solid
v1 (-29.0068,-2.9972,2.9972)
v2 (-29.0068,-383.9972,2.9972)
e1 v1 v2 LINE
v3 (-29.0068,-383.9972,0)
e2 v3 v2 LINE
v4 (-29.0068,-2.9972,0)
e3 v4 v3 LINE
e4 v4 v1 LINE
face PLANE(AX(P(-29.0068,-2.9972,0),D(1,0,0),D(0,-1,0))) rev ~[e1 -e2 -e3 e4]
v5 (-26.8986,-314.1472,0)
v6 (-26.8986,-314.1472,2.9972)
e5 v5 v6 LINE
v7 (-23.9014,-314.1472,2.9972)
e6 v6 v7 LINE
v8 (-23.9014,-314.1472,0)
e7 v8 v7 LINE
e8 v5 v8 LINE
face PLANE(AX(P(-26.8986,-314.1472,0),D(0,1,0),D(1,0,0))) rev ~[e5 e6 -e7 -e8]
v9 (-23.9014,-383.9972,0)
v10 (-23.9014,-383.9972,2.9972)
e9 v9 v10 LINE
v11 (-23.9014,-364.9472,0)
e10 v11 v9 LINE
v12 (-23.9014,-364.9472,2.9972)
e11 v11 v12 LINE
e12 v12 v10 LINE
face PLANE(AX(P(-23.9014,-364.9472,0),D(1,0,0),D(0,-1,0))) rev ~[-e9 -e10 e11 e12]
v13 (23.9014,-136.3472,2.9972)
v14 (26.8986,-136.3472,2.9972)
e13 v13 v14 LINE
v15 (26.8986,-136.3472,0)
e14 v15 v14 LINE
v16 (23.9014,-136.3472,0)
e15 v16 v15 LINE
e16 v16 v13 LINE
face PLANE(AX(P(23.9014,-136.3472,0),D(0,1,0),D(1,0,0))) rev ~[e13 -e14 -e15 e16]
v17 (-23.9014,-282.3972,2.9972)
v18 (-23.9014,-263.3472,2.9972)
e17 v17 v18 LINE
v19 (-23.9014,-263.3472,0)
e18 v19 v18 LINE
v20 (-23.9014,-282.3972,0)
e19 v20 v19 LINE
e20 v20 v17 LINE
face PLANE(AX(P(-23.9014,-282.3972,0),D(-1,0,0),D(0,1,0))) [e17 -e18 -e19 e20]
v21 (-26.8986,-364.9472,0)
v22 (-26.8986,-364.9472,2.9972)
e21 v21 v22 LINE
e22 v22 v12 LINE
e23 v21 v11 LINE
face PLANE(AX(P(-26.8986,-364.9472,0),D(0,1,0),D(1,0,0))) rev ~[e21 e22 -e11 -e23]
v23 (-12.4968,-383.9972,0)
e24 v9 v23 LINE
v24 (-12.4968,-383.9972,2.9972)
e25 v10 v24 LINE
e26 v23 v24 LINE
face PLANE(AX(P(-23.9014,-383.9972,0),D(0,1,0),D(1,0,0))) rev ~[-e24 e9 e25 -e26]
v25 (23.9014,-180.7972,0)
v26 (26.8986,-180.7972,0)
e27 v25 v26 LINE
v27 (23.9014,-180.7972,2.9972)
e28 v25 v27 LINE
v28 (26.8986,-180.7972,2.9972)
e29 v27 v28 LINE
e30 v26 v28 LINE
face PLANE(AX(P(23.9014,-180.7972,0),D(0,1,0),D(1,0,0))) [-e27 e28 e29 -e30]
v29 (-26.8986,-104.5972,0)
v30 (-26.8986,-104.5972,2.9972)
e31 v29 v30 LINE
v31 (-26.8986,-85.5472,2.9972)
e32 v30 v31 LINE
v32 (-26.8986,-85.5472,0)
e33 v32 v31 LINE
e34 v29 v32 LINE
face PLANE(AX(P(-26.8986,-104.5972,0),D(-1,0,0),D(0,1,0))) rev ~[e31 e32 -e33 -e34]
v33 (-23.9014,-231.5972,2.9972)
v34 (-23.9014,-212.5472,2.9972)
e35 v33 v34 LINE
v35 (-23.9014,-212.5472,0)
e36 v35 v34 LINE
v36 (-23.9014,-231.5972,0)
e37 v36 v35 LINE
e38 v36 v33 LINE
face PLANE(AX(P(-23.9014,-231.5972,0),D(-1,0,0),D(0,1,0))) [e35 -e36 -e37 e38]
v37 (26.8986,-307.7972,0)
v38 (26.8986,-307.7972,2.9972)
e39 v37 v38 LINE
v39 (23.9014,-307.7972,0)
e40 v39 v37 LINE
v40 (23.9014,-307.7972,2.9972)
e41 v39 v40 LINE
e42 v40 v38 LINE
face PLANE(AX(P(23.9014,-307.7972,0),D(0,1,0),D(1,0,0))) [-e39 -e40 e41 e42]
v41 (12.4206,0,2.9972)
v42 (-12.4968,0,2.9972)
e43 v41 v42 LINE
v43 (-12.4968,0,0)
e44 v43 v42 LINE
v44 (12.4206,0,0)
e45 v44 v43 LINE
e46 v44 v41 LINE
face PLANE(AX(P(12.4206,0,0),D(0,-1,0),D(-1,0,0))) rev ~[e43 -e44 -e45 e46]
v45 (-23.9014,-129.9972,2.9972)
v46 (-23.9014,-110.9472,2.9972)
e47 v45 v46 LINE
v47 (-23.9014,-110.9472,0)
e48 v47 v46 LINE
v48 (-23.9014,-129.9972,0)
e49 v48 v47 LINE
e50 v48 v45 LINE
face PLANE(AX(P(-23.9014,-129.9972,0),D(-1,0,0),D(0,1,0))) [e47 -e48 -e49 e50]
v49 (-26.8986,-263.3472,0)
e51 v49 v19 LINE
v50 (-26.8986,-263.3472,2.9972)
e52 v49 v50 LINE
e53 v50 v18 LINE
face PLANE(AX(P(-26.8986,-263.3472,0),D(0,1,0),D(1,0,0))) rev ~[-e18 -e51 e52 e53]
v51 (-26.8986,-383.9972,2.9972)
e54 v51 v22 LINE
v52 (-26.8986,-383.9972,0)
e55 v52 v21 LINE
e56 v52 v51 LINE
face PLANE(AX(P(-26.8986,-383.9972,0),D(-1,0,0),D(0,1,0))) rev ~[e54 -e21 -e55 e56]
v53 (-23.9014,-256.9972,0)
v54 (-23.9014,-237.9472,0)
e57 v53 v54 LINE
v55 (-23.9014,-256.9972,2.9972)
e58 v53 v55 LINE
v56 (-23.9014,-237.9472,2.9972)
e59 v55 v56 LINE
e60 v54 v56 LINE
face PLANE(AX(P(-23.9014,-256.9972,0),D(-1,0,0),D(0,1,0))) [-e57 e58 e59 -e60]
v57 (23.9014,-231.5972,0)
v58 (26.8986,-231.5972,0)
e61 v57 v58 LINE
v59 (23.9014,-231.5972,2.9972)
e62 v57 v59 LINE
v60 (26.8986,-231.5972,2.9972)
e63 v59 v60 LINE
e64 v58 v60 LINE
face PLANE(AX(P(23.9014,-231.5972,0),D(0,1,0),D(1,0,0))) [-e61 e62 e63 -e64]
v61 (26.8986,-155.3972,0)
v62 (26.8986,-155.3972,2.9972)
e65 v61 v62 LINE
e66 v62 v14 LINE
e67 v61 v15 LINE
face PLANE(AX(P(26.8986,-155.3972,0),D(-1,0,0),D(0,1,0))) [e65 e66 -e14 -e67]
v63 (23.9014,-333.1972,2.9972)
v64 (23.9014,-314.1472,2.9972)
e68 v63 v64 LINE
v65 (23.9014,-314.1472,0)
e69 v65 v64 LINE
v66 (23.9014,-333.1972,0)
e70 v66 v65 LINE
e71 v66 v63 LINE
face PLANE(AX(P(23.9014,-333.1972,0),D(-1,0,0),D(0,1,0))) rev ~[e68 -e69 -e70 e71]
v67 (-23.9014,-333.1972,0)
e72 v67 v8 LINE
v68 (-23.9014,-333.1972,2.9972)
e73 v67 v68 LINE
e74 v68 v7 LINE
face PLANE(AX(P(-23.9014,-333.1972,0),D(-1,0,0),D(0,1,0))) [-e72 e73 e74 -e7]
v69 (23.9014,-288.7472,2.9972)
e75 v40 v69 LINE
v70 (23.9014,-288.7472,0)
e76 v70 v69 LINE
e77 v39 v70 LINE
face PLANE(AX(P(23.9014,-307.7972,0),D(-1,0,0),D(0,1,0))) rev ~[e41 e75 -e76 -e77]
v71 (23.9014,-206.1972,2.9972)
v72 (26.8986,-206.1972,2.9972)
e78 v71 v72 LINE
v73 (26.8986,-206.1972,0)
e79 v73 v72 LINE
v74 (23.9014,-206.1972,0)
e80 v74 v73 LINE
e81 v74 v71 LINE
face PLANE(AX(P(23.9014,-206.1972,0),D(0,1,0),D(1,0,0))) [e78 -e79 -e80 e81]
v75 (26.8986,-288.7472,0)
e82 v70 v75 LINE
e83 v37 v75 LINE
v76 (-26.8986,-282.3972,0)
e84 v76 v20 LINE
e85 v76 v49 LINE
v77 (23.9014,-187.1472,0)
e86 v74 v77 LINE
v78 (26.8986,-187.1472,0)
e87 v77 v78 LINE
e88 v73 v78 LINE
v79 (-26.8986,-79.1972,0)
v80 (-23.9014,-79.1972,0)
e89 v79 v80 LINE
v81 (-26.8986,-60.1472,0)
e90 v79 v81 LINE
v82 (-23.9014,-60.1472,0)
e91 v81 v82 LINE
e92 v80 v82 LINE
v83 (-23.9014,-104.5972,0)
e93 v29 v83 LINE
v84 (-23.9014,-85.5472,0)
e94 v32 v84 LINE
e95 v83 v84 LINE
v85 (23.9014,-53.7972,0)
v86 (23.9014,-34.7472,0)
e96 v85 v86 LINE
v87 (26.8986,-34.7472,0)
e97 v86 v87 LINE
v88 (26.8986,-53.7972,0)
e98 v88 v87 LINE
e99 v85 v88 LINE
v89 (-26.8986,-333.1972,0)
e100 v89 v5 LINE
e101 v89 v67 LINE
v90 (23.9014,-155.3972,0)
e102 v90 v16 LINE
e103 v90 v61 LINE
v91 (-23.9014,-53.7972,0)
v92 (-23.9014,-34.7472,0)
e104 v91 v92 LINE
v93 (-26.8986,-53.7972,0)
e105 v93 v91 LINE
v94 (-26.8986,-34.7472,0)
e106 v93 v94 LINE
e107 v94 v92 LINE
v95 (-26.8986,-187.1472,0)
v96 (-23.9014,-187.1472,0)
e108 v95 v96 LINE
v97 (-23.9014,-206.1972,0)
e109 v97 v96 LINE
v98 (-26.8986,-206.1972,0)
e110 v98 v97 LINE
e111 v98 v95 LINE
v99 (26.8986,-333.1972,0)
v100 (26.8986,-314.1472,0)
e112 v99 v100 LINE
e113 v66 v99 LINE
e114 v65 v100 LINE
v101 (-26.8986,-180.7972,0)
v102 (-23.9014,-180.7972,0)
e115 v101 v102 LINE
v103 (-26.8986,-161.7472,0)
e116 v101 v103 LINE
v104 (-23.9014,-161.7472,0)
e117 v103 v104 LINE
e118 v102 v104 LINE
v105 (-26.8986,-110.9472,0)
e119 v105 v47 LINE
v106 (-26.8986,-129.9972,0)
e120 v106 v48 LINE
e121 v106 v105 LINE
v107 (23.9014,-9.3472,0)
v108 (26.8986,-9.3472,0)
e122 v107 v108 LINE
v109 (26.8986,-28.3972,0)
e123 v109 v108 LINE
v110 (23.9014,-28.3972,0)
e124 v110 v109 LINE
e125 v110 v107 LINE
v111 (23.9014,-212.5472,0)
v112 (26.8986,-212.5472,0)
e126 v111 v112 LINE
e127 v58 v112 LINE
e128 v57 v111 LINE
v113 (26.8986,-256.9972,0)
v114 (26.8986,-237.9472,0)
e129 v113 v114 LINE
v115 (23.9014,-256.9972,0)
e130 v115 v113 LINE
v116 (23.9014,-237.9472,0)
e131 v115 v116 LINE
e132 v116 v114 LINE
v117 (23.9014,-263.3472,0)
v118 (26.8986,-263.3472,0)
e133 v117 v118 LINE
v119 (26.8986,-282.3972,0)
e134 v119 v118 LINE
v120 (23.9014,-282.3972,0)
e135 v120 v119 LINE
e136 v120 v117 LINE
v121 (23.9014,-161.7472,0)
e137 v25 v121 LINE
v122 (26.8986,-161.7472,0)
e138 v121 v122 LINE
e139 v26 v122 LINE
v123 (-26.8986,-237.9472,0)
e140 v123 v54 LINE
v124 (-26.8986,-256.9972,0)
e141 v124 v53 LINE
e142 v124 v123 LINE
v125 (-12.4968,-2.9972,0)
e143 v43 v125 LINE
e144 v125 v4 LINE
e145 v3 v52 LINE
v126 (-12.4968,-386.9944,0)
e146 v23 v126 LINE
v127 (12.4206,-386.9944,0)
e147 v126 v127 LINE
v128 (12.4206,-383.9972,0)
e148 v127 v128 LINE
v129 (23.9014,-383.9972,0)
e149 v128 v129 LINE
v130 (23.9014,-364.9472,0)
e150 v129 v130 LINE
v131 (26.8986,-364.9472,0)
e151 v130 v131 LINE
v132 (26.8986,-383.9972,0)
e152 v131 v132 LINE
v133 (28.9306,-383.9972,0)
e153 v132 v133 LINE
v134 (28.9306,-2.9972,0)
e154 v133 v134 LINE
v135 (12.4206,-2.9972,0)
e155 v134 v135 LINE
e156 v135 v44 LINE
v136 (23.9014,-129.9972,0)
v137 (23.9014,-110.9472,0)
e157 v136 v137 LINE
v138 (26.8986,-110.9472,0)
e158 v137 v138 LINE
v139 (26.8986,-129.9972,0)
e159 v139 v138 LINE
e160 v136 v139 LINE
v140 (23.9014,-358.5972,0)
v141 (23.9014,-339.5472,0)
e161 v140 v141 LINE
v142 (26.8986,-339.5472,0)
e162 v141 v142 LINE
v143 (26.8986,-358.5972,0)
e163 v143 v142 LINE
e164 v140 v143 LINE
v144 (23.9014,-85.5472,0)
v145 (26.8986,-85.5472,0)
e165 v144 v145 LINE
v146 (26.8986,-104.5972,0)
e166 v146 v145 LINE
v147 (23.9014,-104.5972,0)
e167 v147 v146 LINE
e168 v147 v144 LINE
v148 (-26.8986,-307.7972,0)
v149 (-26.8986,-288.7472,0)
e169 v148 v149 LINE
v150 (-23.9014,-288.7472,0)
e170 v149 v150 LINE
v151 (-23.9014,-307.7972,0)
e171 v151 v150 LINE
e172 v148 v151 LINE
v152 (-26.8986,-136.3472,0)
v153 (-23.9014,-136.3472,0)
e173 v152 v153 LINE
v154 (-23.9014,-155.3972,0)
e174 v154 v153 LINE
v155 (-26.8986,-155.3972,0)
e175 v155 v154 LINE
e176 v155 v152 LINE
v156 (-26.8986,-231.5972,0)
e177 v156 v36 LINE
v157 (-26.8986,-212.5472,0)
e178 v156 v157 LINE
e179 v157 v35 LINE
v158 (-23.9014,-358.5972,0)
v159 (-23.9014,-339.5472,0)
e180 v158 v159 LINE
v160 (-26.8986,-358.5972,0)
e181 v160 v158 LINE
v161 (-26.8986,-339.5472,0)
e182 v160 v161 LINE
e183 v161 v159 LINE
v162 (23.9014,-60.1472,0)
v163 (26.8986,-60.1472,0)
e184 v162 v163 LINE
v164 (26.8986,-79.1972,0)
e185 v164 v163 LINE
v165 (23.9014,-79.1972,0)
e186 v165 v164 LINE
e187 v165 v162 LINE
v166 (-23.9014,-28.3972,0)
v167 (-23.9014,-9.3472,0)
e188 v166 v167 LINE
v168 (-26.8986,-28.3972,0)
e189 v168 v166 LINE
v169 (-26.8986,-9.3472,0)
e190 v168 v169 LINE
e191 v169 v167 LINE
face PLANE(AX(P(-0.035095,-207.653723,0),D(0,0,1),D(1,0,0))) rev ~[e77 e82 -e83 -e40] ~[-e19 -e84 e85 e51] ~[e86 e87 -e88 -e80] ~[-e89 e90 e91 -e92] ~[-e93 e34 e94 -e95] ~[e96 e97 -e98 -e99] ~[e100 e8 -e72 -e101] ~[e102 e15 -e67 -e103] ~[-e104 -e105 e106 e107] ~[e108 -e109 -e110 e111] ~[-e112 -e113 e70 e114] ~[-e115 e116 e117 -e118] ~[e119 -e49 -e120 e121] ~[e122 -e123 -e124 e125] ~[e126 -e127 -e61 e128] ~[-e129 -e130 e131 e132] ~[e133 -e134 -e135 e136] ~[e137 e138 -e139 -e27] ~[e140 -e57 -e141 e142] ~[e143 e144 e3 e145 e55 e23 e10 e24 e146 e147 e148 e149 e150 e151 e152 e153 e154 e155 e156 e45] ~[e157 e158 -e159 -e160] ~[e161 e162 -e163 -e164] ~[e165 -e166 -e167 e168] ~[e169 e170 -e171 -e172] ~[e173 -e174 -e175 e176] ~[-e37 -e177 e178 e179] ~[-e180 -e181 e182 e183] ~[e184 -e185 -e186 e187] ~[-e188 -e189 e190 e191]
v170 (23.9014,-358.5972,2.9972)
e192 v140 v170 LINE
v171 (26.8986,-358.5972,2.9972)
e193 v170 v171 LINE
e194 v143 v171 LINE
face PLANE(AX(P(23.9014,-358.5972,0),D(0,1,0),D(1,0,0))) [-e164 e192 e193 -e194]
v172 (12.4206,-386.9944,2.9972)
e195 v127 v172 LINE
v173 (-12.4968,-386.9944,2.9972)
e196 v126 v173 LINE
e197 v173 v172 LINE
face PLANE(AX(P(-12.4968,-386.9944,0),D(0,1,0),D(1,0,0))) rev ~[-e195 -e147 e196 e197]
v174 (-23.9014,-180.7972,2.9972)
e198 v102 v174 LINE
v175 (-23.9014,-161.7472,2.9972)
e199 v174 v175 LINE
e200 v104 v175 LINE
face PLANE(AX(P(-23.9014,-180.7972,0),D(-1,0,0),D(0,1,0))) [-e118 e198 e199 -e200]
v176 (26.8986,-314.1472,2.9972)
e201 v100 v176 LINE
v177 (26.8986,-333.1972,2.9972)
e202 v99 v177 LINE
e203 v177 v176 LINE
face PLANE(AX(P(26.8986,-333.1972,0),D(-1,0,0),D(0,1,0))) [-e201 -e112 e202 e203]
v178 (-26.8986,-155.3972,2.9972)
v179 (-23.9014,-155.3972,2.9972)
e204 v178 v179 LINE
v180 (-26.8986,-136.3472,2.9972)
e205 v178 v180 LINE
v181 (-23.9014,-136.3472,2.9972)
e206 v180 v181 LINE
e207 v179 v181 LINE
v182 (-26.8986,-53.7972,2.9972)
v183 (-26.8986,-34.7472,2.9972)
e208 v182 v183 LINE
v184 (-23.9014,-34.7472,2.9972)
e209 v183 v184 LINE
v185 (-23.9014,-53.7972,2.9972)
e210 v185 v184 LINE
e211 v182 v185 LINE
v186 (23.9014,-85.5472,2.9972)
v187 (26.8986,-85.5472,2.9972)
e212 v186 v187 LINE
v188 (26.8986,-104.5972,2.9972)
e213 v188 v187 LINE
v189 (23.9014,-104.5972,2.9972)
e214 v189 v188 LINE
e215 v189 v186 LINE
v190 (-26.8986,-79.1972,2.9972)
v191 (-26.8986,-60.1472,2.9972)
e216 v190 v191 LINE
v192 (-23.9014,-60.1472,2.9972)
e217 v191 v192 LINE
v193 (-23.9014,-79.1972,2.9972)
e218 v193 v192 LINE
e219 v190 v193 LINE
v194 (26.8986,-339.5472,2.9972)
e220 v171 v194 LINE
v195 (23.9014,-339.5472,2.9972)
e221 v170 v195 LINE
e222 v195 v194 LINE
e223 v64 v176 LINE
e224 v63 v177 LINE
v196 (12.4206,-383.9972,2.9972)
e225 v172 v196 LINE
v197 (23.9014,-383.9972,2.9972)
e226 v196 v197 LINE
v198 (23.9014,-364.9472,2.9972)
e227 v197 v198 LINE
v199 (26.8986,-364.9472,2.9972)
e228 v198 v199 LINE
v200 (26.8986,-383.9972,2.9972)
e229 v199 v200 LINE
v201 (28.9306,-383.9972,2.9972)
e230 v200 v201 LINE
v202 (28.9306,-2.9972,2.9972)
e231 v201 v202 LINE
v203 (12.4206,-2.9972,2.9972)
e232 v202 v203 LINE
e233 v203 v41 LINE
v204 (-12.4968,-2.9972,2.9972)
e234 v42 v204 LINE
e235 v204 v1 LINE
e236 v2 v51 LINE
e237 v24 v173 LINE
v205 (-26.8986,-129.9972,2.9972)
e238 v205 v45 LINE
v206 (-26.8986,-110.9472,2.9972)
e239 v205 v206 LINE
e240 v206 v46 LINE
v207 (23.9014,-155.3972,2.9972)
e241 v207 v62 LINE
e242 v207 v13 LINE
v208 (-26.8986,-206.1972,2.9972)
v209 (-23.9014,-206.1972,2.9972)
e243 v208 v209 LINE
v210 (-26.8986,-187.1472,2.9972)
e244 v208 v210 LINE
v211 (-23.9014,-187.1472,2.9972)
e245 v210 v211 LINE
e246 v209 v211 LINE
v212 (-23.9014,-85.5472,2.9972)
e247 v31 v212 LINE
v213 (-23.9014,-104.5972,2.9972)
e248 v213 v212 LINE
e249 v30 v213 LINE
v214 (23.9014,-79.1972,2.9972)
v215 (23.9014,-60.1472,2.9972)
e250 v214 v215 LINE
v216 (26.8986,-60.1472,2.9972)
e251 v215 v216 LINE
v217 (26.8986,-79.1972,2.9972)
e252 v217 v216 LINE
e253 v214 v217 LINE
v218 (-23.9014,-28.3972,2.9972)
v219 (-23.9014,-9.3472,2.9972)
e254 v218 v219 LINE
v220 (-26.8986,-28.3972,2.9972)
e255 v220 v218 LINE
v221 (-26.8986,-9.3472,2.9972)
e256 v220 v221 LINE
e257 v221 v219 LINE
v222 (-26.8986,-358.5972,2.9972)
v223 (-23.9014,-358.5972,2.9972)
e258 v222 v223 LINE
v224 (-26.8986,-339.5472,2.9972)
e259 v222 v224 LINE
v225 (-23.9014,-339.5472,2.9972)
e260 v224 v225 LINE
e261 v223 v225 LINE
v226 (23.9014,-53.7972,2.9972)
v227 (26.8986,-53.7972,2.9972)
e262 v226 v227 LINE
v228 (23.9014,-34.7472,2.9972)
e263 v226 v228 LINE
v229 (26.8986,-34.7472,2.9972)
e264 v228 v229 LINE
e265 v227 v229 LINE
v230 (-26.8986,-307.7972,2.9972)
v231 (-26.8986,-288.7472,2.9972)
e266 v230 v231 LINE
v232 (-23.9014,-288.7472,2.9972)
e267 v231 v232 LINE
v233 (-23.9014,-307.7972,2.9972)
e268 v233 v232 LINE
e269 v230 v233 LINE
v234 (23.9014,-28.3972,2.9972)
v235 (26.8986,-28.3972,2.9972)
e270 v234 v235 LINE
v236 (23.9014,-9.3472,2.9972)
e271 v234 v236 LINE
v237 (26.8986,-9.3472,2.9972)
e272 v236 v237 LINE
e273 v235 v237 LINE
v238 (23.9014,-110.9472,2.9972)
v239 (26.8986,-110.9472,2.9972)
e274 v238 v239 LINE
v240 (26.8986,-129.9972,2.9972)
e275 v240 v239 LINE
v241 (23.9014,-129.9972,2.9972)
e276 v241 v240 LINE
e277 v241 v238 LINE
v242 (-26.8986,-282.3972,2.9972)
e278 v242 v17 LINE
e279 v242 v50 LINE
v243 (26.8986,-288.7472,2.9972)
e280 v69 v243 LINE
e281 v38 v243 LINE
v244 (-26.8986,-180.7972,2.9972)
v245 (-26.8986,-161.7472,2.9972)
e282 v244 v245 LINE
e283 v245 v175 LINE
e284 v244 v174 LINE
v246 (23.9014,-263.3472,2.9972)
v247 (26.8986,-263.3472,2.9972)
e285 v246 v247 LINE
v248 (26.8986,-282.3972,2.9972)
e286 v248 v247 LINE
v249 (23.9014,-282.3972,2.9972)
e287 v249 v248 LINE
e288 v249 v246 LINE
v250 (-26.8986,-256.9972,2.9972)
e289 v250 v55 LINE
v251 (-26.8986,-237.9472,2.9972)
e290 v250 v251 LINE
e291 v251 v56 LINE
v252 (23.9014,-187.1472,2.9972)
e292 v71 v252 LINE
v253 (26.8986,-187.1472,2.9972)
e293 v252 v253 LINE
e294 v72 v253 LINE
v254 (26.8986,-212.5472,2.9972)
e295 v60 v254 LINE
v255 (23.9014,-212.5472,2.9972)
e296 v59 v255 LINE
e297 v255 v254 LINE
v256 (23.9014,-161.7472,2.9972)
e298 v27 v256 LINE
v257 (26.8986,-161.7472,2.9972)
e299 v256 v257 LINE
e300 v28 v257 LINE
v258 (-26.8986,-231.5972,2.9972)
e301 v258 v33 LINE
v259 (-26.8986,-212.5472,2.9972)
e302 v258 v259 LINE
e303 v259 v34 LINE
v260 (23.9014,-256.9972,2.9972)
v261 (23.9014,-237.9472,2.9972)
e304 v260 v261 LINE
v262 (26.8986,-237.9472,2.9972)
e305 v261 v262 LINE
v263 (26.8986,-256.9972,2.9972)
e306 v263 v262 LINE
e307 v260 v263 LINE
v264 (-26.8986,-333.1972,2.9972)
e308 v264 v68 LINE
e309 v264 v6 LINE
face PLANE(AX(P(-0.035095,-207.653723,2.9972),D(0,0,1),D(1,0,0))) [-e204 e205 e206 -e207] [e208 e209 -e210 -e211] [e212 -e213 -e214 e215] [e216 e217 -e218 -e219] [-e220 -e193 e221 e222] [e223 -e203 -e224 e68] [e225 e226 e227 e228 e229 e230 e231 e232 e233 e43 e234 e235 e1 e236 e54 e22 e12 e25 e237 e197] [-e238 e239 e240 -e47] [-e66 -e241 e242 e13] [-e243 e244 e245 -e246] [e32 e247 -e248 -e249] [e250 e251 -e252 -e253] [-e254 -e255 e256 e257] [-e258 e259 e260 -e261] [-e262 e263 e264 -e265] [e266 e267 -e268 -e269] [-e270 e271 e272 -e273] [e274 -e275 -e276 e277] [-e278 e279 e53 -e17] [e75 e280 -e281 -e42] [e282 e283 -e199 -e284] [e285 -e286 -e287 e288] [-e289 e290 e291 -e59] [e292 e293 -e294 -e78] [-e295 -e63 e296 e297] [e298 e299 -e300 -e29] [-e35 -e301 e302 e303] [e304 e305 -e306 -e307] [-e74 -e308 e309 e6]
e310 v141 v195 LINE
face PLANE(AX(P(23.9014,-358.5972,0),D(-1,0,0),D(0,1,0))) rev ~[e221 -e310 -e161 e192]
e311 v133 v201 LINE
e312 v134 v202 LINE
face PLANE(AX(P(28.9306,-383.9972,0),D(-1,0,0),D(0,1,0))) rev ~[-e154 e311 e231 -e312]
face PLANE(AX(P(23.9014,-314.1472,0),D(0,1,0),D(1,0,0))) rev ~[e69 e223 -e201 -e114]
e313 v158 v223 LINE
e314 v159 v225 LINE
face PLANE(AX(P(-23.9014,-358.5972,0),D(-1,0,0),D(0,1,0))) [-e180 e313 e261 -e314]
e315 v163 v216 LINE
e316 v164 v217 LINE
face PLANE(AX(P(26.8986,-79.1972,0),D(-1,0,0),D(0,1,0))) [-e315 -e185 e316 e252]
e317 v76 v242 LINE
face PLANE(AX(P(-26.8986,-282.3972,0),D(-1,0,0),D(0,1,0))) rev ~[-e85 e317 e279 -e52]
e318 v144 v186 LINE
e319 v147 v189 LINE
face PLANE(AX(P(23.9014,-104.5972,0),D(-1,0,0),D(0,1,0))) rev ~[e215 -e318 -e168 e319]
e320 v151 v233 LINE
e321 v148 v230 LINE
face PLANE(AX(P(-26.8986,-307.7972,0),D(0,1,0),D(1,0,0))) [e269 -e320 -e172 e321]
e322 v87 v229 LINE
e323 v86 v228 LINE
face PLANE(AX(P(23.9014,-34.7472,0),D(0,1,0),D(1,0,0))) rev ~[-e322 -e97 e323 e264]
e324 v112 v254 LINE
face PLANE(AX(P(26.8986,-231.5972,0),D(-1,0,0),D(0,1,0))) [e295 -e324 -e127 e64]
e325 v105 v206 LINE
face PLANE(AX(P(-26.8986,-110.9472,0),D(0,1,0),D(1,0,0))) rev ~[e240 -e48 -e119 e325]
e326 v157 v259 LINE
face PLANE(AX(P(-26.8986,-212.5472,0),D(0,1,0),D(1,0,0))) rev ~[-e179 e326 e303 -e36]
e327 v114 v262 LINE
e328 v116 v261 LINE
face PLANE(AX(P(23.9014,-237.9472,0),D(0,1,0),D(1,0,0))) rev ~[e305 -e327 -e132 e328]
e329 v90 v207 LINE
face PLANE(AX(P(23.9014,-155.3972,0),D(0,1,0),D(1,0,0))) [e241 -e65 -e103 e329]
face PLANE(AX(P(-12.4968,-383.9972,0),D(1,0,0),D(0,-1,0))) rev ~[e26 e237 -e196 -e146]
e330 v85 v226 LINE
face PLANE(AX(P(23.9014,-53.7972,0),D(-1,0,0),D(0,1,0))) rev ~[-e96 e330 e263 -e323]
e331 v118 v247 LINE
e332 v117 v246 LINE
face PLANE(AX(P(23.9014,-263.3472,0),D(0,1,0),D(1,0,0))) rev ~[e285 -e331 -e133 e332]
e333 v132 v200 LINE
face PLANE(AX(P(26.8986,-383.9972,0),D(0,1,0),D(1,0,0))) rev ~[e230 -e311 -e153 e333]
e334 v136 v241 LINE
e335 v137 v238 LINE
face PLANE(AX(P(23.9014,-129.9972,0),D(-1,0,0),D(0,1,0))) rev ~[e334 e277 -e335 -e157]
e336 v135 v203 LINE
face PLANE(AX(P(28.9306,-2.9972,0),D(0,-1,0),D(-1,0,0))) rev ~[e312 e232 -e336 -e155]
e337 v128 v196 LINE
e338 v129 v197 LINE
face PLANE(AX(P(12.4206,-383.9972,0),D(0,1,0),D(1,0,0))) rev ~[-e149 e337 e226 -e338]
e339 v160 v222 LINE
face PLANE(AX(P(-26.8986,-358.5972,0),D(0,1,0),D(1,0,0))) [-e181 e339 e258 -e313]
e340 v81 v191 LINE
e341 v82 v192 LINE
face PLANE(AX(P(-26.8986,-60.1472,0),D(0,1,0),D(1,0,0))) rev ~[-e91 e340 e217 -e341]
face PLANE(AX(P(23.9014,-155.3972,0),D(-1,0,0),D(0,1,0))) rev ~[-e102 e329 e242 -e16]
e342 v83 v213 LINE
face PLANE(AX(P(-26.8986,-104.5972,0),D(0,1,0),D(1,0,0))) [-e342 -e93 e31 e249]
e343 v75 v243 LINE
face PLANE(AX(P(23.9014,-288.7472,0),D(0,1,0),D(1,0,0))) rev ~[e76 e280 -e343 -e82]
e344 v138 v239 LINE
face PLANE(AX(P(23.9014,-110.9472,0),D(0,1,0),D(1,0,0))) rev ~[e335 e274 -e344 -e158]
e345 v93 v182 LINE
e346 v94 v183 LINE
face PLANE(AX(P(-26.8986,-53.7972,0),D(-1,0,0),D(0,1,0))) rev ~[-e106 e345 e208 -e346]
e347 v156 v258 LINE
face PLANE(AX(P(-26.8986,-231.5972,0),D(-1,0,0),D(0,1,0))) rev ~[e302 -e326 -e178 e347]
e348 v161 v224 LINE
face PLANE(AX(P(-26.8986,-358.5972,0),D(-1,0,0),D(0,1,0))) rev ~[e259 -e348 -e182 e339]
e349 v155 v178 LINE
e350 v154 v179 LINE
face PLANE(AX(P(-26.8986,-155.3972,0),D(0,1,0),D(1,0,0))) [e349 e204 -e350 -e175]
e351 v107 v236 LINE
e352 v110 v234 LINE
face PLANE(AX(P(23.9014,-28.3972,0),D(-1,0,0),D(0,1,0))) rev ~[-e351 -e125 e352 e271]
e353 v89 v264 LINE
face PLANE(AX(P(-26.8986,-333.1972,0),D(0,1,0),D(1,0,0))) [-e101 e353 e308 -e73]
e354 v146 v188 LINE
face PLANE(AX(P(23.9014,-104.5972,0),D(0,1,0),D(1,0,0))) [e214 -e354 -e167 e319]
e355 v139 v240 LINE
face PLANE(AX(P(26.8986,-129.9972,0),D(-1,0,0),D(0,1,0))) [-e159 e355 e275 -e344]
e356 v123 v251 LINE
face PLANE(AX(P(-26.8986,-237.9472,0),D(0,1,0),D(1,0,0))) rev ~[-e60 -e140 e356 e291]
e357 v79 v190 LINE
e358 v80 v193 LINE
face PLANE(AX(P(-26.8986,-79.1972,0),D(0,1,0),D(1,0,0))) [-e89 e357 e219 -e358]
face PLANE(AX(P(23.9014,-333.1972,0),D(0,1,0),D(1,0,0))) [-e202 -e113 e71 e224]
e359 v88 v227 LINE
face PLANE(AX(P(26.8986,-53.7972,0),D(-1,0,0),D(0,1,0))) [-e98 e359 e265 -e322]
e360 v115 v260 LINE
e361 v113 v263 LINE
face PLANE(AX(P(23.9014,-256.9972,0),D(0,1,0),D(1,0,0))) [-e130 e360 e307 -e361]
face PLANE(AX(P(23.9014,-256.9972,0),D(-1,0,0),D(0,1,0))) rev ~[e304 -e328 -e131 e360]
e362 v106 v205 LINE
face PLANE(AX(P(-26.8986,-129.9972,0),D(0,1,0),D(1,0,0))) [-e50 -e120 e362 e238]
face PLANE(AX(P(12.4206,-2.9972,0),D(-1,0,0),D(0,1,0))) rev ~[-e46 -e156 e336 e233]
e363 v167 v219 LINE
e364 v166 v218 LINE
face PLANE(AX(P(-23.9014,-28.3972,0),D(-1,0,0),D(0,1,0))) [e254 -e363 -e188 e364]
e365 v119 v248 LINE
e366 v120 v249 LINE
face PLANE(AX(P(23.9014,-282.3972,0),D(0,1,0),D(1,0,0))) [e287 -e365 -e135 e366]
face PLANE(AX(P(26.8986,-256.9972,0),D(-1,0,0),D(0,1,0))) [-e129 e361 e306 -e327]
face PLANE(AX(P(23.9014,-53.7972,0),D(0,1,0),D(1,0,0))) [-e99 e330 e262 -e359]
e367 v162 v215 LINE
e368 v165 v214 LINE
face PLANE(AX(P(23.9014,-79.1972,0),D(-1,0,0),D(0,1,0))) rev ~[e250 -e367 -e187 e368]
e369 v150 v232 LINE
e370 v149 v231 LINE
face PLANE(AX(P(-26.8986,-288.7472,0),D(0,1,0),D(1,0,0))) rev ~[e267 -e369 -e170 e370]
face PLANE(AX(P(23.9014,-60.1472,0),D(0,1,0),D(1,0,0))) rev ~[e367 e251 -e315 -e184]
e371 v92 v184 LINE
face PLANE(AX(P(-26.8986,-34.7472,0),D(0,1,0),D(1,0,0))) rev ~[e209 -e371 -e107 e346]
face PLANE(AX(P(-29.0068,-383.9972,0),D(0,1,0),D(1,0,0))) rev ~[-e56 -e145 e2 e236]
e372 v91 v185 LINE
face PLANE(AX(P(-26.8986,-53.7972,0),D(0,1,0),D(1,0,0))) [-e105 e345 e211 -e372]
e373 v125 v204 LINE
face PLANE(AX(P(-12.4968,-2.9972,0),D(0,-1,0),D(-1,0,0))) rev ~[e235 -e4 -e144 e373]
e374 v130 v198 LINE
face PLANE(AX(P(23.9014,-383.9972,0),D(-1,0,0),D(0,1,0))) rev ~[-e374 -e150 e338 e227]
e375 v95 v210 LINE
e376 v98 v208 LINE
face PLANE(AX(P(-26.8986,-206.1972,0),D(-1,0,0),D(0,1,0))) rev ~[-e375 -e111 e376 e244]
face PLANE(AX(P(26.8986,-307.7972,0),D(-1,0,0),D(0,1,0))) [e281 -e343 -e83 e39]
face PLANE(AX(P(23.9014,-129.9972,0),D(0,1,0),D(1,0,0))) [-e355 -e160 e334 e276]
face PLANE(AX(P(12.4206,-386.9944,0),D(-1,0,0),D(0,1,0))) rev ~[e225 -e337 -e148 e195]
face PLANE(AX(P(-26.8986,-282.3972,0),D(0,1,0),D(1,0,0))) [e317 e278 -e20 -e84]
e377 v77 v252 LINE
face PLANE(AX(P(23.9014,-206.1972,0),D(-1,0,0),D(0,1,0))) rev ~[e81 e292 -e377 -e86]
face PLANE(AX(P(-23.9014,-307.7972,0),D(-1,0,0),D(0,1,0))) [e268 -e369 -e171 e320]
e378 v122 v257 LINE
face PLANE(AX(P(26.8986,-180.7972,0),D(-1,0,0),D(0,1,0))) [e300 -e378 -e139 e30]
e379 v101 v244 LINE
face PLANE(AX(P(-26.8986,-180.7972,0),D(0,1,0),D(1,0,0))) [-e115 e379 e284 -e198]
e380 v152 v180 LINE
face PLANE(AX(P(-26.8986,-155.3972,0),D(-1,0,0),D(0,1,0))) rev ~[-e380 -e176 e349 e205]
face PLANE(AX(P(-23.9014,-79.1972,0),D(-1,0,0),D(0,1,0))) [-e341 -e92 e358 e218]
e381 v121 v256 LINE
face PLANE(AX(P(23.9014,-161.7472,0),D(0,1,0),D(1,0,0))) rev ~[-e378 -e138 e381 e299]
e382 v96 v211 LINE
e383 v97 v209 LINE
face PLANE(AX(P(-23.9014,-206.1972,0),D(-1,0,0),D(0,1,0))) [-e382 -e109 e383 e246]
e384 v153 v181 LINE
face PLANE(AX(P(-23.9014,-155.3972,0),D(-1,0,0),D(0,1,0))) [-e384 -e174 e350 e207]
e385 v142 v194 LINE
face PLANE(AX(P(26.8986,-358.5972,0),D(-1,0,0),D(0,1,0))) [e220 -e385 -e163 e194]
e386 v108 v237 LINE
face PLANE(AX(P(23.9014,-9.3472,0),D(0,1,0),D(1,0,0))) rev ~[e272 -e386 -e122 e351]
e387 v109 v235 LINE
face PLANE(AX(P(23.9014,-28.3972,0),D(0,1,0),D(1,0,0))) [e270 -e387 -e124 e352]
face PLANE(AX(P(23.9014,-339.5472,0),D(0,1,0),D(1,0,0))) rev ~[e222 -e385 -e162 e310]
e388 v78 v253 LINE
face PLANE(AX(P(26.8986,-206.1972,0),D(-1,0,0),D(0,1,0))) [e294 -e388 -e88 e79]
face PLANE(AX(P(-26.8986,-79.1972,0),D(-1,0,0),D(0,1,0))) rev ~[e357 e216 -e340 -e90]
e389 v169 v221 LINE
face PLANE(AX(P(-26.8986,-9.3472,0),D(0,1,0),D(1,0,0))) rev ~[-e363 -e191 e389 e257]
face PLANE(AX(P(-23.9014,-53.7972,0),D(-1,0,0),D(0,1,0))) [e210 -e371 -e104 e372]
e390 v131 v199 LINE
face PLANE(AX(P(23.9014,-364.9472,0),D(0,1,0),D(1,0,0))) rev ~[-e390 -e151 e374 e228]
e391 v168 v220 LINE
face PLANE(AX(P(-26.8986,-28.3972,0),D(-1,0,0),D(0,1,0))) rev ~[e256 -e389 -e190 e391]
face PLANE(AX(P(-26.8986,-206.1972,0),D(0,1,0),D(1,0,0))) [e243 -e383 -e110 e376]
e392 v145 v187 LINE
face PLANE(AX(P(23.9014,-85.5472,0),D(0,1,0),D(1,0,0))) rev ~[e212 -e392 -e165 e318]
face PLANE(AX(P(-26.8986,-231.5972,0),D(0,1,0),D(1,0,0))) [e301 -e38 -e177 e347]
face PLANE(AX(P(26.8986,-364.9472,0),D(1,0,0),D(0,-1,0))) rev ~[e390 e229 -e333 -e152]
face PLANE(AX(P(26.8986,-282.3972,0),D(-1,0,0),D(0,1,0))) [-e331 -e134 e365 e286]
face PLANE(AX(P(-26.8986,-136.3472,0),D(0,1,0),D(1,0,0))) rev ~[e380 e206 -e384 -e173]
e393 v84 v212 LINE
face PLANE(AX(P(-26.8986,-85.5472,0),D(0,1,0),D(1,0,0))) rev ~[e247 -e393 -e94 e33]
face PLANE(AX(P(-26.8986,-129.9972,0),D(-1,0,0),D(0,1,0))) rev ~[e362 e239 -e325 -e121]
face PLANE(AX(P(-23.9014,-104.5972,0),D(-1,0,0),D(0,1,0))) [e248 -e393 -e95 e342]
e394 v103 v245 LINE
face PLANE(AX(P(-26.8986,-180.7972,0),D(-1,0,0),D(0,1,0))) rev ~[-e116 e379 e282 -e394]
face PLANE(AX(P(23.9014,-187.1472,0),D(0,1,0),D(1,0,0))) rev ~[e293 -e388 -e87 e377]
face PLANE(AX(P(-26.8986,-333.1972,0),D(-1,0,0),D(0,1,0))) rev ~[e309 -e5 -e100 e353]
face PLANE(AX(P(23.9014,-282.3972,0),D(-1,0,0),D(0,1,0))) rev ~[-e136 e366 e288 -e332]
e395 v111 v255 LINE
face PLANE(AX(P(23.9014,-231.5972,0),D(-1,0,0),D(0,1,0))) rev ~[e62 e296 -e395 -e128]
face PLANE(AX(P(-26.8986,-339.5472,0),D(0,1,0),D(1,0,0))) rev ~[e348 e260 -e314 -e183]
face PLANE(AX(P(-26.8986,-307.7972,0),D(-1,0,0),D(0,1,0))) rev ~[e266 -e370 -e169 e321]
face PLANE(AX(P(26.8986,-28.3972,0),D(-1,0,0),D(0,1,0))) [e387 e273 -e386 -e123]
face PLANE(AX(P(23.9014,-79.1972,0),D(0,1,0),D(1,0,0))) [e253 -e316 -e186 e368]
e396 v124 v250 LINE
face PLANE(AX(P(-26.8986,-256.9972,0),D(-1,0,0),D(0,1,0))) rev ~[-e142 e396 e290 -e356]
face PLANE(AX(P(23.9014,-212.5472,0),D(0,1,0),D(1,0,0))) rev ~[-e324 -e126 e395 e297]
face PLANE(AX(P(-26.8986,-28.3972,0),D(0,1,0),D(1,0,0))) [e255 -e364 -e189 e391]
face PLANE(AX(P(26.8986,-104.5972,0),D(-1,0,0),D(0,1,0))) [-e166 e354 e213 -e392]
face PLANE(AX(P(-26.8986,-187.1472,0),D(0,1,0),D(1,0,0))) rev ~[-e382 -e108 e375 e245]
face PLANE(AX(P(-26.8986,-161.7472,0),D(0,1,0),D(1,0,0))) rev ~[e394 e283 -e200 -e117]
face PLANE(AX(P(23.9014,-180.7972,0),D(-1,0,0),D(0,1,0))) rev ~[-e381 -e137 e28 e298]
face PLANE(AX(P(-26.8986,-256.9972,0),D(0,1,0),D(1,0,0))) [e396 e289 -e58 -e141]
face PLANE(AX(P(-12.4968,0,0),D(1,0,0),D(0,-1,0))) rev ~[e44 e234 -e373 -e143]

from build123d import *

# Parameters (mm, degrees)
SKETCH1_W           = 2.9972
SKETCH1_H           = 19.05
BOSS_EXTRUDE1_DEPTH = 2.9972


with BuildPart() as part:
    # Sketch1 → Boss-Extrude1 (new body)
    with BuildSketch(Plane.XY):
        Polygon((-12.4968, 0), (-12.4968, -2.9972), (-29.0068, -2.9972), (-29.0068, -383.9972), (-26.8986, -383.9972), (-26.8986, -364.9472), (-23.9014, -364.9472), (-23.9014, -383.9972), (-12.4968, -383.9972), (-12.4968, -386.9944), (12.4206, -386.9944), (12.4206, -383.9972), (23.9014, -383.9972), (23.9014, -364.9472), (26.8986, -364.9472), (26.8986, -383.9972), (28.9306, -383.9972), (28.9306, -2.9972), (12.4206, -2.9972), (12.4206, 0), align=None)
        with Locations((-25.4, -349.0722)):
            Rectangle(SKETCH1_W, SKETCH1_H, mode=Mode.SUBTRACT)
        with Locations((-25.4, -323.6722)):
            Rectangle(SKETCH1_W, SKETCH1_H, mode=Mode.SUBTRACT)
        with Locations((-25.4, -298.2722)):
            Rectangle(SKETCH1_W, SKETCH1_H, mode=Mode.SUBTRACT)
        with Locations((-25.4, -272.8722)):
            Rectangle(SKETCH1_W, SKETCH1_H, mode=Mode.SUBTRACT)
        with Locations((-25.4, -247.4722)):
            Rectangle(SKETCH1_W, SKETCH1_H, mode=Mode.SUBTRACT)
        with Locations((-25.4, -222.0722)):
            Rectangle(SKETCH1_W, SKETCH1_H, mode=Mode.SUBTRACT)
        with Locations((-25.4, -196.6722)):
            Rectangle(SKETCH1_W, SKETCH1_H, mode=Mode.SUBTRACT)
        with Locations((25.4, -349.0722)):
            Rectangle(SKETCH1_W, SKETCH1_H, mode=Mode.SUBTRACT)
        with Locations((25.4, -323.6722)):
            Rectangle(SKETCH1_W, SKETCH1_H, mode=Mode.SUBTRACT)
        with Locations((25.4, -298.2722)):
            Rectangle(SKETCH1_W, SKETCH1_H, mode=Mode.SUBTRACT)
        with Locations((25.4, -272.8722)):
            Rectangle(SKETCH1_W, SKETCH1_H, mode=Mode.SUBTRACT)
        with Locations((25.4, -247.4722)):
            Rectangle(SKETCH1_W, SKETCH1_H, mode=Mode.SUBTRACT)
        with Locations((25.4, -222.0722)):
            Rectangle(SKETCH1_W, SKETCH1_H, mode=Mode.SUBTRACT)
        with Locations((25.4, -196.6722)):
            Rectangle(SKETCH1_W, SKETCH1_H, mode=Mode.SUBTRACT)
        with Locations((-25.4, -171.2722)):
            Rectangle(SKETCH1_W, SKETCH1_H, mode=Mode.SUBTRACT)
        with Locations((-25.4, -145.8722)):
            Rectangle(SKETCH1_W, SKETCH1_H, mode=Mode.SUBTRACT)
        with Locations((-25.4, -120.4722)):
            Rectangle(SKETCH1_W, SKETCH1_H, mode=Mode.SUBTRACT)
        with Locations((-25.4, -95.0722)):
            Rectangle(SKETCH1_W, SKETCH1_H, mode=Mode.SUBTRACT)
        with Locations((-25.4, -69.6722)):
            Rectangle(SKETCH1_W, SKETCH1_H, mode=Mode.SUBTRACT)
        with Locations((-25.4, -44.2722)):
            Rectangle(SKETCH1_W, SKETCH1_H, mode=Mode.SUBTRACT)
        with Locations((-25.4, -18.8722)):
            Rectangle(SKETCH1_W, SKETCH1_H, mode=Mode.SUBTRACT)
        with Locations((25.4, -171.2722)):
            Rectangle(SKETCH1_W, SKETCH1_H, mode=Mode.SUBTRACT)
        with Locations((25.4, -145.8722)):
            Rectangle(SKETCH1_W, SKETCH1_H, mode=Mode.SUBTRACT)
        with Locations((25.4, -120.4722)):
            Rectangle(SKETCH1_W, SKETCH1_H, mode=Mode.SUBTRACT)
        with Locations((25.4, -95.0722)):
            Rectangle(SKETCH1_W, SKETCH1_H, mode=Mode.SUBTRACT)
        with Locations((25.4, -69.6722)):
            Rectangle(SKETCH1_W, SKETCH1_H, mode=Mode.SUBTRACT)
        with Locations((25.4, -44.2722)):
            Rectangle(SKETCH1_W, SKETCH1_H, mode=Mode.SUBTRACT)
        with Locations((25.4, -18.8722)):
            Rectangle(SKETCH1_W, SKETCH1_H, mode=Mode.SUBTRACT)
    extrude(amount=BOSS_EXTRUDE1_DEPTH)


solid = part.part
